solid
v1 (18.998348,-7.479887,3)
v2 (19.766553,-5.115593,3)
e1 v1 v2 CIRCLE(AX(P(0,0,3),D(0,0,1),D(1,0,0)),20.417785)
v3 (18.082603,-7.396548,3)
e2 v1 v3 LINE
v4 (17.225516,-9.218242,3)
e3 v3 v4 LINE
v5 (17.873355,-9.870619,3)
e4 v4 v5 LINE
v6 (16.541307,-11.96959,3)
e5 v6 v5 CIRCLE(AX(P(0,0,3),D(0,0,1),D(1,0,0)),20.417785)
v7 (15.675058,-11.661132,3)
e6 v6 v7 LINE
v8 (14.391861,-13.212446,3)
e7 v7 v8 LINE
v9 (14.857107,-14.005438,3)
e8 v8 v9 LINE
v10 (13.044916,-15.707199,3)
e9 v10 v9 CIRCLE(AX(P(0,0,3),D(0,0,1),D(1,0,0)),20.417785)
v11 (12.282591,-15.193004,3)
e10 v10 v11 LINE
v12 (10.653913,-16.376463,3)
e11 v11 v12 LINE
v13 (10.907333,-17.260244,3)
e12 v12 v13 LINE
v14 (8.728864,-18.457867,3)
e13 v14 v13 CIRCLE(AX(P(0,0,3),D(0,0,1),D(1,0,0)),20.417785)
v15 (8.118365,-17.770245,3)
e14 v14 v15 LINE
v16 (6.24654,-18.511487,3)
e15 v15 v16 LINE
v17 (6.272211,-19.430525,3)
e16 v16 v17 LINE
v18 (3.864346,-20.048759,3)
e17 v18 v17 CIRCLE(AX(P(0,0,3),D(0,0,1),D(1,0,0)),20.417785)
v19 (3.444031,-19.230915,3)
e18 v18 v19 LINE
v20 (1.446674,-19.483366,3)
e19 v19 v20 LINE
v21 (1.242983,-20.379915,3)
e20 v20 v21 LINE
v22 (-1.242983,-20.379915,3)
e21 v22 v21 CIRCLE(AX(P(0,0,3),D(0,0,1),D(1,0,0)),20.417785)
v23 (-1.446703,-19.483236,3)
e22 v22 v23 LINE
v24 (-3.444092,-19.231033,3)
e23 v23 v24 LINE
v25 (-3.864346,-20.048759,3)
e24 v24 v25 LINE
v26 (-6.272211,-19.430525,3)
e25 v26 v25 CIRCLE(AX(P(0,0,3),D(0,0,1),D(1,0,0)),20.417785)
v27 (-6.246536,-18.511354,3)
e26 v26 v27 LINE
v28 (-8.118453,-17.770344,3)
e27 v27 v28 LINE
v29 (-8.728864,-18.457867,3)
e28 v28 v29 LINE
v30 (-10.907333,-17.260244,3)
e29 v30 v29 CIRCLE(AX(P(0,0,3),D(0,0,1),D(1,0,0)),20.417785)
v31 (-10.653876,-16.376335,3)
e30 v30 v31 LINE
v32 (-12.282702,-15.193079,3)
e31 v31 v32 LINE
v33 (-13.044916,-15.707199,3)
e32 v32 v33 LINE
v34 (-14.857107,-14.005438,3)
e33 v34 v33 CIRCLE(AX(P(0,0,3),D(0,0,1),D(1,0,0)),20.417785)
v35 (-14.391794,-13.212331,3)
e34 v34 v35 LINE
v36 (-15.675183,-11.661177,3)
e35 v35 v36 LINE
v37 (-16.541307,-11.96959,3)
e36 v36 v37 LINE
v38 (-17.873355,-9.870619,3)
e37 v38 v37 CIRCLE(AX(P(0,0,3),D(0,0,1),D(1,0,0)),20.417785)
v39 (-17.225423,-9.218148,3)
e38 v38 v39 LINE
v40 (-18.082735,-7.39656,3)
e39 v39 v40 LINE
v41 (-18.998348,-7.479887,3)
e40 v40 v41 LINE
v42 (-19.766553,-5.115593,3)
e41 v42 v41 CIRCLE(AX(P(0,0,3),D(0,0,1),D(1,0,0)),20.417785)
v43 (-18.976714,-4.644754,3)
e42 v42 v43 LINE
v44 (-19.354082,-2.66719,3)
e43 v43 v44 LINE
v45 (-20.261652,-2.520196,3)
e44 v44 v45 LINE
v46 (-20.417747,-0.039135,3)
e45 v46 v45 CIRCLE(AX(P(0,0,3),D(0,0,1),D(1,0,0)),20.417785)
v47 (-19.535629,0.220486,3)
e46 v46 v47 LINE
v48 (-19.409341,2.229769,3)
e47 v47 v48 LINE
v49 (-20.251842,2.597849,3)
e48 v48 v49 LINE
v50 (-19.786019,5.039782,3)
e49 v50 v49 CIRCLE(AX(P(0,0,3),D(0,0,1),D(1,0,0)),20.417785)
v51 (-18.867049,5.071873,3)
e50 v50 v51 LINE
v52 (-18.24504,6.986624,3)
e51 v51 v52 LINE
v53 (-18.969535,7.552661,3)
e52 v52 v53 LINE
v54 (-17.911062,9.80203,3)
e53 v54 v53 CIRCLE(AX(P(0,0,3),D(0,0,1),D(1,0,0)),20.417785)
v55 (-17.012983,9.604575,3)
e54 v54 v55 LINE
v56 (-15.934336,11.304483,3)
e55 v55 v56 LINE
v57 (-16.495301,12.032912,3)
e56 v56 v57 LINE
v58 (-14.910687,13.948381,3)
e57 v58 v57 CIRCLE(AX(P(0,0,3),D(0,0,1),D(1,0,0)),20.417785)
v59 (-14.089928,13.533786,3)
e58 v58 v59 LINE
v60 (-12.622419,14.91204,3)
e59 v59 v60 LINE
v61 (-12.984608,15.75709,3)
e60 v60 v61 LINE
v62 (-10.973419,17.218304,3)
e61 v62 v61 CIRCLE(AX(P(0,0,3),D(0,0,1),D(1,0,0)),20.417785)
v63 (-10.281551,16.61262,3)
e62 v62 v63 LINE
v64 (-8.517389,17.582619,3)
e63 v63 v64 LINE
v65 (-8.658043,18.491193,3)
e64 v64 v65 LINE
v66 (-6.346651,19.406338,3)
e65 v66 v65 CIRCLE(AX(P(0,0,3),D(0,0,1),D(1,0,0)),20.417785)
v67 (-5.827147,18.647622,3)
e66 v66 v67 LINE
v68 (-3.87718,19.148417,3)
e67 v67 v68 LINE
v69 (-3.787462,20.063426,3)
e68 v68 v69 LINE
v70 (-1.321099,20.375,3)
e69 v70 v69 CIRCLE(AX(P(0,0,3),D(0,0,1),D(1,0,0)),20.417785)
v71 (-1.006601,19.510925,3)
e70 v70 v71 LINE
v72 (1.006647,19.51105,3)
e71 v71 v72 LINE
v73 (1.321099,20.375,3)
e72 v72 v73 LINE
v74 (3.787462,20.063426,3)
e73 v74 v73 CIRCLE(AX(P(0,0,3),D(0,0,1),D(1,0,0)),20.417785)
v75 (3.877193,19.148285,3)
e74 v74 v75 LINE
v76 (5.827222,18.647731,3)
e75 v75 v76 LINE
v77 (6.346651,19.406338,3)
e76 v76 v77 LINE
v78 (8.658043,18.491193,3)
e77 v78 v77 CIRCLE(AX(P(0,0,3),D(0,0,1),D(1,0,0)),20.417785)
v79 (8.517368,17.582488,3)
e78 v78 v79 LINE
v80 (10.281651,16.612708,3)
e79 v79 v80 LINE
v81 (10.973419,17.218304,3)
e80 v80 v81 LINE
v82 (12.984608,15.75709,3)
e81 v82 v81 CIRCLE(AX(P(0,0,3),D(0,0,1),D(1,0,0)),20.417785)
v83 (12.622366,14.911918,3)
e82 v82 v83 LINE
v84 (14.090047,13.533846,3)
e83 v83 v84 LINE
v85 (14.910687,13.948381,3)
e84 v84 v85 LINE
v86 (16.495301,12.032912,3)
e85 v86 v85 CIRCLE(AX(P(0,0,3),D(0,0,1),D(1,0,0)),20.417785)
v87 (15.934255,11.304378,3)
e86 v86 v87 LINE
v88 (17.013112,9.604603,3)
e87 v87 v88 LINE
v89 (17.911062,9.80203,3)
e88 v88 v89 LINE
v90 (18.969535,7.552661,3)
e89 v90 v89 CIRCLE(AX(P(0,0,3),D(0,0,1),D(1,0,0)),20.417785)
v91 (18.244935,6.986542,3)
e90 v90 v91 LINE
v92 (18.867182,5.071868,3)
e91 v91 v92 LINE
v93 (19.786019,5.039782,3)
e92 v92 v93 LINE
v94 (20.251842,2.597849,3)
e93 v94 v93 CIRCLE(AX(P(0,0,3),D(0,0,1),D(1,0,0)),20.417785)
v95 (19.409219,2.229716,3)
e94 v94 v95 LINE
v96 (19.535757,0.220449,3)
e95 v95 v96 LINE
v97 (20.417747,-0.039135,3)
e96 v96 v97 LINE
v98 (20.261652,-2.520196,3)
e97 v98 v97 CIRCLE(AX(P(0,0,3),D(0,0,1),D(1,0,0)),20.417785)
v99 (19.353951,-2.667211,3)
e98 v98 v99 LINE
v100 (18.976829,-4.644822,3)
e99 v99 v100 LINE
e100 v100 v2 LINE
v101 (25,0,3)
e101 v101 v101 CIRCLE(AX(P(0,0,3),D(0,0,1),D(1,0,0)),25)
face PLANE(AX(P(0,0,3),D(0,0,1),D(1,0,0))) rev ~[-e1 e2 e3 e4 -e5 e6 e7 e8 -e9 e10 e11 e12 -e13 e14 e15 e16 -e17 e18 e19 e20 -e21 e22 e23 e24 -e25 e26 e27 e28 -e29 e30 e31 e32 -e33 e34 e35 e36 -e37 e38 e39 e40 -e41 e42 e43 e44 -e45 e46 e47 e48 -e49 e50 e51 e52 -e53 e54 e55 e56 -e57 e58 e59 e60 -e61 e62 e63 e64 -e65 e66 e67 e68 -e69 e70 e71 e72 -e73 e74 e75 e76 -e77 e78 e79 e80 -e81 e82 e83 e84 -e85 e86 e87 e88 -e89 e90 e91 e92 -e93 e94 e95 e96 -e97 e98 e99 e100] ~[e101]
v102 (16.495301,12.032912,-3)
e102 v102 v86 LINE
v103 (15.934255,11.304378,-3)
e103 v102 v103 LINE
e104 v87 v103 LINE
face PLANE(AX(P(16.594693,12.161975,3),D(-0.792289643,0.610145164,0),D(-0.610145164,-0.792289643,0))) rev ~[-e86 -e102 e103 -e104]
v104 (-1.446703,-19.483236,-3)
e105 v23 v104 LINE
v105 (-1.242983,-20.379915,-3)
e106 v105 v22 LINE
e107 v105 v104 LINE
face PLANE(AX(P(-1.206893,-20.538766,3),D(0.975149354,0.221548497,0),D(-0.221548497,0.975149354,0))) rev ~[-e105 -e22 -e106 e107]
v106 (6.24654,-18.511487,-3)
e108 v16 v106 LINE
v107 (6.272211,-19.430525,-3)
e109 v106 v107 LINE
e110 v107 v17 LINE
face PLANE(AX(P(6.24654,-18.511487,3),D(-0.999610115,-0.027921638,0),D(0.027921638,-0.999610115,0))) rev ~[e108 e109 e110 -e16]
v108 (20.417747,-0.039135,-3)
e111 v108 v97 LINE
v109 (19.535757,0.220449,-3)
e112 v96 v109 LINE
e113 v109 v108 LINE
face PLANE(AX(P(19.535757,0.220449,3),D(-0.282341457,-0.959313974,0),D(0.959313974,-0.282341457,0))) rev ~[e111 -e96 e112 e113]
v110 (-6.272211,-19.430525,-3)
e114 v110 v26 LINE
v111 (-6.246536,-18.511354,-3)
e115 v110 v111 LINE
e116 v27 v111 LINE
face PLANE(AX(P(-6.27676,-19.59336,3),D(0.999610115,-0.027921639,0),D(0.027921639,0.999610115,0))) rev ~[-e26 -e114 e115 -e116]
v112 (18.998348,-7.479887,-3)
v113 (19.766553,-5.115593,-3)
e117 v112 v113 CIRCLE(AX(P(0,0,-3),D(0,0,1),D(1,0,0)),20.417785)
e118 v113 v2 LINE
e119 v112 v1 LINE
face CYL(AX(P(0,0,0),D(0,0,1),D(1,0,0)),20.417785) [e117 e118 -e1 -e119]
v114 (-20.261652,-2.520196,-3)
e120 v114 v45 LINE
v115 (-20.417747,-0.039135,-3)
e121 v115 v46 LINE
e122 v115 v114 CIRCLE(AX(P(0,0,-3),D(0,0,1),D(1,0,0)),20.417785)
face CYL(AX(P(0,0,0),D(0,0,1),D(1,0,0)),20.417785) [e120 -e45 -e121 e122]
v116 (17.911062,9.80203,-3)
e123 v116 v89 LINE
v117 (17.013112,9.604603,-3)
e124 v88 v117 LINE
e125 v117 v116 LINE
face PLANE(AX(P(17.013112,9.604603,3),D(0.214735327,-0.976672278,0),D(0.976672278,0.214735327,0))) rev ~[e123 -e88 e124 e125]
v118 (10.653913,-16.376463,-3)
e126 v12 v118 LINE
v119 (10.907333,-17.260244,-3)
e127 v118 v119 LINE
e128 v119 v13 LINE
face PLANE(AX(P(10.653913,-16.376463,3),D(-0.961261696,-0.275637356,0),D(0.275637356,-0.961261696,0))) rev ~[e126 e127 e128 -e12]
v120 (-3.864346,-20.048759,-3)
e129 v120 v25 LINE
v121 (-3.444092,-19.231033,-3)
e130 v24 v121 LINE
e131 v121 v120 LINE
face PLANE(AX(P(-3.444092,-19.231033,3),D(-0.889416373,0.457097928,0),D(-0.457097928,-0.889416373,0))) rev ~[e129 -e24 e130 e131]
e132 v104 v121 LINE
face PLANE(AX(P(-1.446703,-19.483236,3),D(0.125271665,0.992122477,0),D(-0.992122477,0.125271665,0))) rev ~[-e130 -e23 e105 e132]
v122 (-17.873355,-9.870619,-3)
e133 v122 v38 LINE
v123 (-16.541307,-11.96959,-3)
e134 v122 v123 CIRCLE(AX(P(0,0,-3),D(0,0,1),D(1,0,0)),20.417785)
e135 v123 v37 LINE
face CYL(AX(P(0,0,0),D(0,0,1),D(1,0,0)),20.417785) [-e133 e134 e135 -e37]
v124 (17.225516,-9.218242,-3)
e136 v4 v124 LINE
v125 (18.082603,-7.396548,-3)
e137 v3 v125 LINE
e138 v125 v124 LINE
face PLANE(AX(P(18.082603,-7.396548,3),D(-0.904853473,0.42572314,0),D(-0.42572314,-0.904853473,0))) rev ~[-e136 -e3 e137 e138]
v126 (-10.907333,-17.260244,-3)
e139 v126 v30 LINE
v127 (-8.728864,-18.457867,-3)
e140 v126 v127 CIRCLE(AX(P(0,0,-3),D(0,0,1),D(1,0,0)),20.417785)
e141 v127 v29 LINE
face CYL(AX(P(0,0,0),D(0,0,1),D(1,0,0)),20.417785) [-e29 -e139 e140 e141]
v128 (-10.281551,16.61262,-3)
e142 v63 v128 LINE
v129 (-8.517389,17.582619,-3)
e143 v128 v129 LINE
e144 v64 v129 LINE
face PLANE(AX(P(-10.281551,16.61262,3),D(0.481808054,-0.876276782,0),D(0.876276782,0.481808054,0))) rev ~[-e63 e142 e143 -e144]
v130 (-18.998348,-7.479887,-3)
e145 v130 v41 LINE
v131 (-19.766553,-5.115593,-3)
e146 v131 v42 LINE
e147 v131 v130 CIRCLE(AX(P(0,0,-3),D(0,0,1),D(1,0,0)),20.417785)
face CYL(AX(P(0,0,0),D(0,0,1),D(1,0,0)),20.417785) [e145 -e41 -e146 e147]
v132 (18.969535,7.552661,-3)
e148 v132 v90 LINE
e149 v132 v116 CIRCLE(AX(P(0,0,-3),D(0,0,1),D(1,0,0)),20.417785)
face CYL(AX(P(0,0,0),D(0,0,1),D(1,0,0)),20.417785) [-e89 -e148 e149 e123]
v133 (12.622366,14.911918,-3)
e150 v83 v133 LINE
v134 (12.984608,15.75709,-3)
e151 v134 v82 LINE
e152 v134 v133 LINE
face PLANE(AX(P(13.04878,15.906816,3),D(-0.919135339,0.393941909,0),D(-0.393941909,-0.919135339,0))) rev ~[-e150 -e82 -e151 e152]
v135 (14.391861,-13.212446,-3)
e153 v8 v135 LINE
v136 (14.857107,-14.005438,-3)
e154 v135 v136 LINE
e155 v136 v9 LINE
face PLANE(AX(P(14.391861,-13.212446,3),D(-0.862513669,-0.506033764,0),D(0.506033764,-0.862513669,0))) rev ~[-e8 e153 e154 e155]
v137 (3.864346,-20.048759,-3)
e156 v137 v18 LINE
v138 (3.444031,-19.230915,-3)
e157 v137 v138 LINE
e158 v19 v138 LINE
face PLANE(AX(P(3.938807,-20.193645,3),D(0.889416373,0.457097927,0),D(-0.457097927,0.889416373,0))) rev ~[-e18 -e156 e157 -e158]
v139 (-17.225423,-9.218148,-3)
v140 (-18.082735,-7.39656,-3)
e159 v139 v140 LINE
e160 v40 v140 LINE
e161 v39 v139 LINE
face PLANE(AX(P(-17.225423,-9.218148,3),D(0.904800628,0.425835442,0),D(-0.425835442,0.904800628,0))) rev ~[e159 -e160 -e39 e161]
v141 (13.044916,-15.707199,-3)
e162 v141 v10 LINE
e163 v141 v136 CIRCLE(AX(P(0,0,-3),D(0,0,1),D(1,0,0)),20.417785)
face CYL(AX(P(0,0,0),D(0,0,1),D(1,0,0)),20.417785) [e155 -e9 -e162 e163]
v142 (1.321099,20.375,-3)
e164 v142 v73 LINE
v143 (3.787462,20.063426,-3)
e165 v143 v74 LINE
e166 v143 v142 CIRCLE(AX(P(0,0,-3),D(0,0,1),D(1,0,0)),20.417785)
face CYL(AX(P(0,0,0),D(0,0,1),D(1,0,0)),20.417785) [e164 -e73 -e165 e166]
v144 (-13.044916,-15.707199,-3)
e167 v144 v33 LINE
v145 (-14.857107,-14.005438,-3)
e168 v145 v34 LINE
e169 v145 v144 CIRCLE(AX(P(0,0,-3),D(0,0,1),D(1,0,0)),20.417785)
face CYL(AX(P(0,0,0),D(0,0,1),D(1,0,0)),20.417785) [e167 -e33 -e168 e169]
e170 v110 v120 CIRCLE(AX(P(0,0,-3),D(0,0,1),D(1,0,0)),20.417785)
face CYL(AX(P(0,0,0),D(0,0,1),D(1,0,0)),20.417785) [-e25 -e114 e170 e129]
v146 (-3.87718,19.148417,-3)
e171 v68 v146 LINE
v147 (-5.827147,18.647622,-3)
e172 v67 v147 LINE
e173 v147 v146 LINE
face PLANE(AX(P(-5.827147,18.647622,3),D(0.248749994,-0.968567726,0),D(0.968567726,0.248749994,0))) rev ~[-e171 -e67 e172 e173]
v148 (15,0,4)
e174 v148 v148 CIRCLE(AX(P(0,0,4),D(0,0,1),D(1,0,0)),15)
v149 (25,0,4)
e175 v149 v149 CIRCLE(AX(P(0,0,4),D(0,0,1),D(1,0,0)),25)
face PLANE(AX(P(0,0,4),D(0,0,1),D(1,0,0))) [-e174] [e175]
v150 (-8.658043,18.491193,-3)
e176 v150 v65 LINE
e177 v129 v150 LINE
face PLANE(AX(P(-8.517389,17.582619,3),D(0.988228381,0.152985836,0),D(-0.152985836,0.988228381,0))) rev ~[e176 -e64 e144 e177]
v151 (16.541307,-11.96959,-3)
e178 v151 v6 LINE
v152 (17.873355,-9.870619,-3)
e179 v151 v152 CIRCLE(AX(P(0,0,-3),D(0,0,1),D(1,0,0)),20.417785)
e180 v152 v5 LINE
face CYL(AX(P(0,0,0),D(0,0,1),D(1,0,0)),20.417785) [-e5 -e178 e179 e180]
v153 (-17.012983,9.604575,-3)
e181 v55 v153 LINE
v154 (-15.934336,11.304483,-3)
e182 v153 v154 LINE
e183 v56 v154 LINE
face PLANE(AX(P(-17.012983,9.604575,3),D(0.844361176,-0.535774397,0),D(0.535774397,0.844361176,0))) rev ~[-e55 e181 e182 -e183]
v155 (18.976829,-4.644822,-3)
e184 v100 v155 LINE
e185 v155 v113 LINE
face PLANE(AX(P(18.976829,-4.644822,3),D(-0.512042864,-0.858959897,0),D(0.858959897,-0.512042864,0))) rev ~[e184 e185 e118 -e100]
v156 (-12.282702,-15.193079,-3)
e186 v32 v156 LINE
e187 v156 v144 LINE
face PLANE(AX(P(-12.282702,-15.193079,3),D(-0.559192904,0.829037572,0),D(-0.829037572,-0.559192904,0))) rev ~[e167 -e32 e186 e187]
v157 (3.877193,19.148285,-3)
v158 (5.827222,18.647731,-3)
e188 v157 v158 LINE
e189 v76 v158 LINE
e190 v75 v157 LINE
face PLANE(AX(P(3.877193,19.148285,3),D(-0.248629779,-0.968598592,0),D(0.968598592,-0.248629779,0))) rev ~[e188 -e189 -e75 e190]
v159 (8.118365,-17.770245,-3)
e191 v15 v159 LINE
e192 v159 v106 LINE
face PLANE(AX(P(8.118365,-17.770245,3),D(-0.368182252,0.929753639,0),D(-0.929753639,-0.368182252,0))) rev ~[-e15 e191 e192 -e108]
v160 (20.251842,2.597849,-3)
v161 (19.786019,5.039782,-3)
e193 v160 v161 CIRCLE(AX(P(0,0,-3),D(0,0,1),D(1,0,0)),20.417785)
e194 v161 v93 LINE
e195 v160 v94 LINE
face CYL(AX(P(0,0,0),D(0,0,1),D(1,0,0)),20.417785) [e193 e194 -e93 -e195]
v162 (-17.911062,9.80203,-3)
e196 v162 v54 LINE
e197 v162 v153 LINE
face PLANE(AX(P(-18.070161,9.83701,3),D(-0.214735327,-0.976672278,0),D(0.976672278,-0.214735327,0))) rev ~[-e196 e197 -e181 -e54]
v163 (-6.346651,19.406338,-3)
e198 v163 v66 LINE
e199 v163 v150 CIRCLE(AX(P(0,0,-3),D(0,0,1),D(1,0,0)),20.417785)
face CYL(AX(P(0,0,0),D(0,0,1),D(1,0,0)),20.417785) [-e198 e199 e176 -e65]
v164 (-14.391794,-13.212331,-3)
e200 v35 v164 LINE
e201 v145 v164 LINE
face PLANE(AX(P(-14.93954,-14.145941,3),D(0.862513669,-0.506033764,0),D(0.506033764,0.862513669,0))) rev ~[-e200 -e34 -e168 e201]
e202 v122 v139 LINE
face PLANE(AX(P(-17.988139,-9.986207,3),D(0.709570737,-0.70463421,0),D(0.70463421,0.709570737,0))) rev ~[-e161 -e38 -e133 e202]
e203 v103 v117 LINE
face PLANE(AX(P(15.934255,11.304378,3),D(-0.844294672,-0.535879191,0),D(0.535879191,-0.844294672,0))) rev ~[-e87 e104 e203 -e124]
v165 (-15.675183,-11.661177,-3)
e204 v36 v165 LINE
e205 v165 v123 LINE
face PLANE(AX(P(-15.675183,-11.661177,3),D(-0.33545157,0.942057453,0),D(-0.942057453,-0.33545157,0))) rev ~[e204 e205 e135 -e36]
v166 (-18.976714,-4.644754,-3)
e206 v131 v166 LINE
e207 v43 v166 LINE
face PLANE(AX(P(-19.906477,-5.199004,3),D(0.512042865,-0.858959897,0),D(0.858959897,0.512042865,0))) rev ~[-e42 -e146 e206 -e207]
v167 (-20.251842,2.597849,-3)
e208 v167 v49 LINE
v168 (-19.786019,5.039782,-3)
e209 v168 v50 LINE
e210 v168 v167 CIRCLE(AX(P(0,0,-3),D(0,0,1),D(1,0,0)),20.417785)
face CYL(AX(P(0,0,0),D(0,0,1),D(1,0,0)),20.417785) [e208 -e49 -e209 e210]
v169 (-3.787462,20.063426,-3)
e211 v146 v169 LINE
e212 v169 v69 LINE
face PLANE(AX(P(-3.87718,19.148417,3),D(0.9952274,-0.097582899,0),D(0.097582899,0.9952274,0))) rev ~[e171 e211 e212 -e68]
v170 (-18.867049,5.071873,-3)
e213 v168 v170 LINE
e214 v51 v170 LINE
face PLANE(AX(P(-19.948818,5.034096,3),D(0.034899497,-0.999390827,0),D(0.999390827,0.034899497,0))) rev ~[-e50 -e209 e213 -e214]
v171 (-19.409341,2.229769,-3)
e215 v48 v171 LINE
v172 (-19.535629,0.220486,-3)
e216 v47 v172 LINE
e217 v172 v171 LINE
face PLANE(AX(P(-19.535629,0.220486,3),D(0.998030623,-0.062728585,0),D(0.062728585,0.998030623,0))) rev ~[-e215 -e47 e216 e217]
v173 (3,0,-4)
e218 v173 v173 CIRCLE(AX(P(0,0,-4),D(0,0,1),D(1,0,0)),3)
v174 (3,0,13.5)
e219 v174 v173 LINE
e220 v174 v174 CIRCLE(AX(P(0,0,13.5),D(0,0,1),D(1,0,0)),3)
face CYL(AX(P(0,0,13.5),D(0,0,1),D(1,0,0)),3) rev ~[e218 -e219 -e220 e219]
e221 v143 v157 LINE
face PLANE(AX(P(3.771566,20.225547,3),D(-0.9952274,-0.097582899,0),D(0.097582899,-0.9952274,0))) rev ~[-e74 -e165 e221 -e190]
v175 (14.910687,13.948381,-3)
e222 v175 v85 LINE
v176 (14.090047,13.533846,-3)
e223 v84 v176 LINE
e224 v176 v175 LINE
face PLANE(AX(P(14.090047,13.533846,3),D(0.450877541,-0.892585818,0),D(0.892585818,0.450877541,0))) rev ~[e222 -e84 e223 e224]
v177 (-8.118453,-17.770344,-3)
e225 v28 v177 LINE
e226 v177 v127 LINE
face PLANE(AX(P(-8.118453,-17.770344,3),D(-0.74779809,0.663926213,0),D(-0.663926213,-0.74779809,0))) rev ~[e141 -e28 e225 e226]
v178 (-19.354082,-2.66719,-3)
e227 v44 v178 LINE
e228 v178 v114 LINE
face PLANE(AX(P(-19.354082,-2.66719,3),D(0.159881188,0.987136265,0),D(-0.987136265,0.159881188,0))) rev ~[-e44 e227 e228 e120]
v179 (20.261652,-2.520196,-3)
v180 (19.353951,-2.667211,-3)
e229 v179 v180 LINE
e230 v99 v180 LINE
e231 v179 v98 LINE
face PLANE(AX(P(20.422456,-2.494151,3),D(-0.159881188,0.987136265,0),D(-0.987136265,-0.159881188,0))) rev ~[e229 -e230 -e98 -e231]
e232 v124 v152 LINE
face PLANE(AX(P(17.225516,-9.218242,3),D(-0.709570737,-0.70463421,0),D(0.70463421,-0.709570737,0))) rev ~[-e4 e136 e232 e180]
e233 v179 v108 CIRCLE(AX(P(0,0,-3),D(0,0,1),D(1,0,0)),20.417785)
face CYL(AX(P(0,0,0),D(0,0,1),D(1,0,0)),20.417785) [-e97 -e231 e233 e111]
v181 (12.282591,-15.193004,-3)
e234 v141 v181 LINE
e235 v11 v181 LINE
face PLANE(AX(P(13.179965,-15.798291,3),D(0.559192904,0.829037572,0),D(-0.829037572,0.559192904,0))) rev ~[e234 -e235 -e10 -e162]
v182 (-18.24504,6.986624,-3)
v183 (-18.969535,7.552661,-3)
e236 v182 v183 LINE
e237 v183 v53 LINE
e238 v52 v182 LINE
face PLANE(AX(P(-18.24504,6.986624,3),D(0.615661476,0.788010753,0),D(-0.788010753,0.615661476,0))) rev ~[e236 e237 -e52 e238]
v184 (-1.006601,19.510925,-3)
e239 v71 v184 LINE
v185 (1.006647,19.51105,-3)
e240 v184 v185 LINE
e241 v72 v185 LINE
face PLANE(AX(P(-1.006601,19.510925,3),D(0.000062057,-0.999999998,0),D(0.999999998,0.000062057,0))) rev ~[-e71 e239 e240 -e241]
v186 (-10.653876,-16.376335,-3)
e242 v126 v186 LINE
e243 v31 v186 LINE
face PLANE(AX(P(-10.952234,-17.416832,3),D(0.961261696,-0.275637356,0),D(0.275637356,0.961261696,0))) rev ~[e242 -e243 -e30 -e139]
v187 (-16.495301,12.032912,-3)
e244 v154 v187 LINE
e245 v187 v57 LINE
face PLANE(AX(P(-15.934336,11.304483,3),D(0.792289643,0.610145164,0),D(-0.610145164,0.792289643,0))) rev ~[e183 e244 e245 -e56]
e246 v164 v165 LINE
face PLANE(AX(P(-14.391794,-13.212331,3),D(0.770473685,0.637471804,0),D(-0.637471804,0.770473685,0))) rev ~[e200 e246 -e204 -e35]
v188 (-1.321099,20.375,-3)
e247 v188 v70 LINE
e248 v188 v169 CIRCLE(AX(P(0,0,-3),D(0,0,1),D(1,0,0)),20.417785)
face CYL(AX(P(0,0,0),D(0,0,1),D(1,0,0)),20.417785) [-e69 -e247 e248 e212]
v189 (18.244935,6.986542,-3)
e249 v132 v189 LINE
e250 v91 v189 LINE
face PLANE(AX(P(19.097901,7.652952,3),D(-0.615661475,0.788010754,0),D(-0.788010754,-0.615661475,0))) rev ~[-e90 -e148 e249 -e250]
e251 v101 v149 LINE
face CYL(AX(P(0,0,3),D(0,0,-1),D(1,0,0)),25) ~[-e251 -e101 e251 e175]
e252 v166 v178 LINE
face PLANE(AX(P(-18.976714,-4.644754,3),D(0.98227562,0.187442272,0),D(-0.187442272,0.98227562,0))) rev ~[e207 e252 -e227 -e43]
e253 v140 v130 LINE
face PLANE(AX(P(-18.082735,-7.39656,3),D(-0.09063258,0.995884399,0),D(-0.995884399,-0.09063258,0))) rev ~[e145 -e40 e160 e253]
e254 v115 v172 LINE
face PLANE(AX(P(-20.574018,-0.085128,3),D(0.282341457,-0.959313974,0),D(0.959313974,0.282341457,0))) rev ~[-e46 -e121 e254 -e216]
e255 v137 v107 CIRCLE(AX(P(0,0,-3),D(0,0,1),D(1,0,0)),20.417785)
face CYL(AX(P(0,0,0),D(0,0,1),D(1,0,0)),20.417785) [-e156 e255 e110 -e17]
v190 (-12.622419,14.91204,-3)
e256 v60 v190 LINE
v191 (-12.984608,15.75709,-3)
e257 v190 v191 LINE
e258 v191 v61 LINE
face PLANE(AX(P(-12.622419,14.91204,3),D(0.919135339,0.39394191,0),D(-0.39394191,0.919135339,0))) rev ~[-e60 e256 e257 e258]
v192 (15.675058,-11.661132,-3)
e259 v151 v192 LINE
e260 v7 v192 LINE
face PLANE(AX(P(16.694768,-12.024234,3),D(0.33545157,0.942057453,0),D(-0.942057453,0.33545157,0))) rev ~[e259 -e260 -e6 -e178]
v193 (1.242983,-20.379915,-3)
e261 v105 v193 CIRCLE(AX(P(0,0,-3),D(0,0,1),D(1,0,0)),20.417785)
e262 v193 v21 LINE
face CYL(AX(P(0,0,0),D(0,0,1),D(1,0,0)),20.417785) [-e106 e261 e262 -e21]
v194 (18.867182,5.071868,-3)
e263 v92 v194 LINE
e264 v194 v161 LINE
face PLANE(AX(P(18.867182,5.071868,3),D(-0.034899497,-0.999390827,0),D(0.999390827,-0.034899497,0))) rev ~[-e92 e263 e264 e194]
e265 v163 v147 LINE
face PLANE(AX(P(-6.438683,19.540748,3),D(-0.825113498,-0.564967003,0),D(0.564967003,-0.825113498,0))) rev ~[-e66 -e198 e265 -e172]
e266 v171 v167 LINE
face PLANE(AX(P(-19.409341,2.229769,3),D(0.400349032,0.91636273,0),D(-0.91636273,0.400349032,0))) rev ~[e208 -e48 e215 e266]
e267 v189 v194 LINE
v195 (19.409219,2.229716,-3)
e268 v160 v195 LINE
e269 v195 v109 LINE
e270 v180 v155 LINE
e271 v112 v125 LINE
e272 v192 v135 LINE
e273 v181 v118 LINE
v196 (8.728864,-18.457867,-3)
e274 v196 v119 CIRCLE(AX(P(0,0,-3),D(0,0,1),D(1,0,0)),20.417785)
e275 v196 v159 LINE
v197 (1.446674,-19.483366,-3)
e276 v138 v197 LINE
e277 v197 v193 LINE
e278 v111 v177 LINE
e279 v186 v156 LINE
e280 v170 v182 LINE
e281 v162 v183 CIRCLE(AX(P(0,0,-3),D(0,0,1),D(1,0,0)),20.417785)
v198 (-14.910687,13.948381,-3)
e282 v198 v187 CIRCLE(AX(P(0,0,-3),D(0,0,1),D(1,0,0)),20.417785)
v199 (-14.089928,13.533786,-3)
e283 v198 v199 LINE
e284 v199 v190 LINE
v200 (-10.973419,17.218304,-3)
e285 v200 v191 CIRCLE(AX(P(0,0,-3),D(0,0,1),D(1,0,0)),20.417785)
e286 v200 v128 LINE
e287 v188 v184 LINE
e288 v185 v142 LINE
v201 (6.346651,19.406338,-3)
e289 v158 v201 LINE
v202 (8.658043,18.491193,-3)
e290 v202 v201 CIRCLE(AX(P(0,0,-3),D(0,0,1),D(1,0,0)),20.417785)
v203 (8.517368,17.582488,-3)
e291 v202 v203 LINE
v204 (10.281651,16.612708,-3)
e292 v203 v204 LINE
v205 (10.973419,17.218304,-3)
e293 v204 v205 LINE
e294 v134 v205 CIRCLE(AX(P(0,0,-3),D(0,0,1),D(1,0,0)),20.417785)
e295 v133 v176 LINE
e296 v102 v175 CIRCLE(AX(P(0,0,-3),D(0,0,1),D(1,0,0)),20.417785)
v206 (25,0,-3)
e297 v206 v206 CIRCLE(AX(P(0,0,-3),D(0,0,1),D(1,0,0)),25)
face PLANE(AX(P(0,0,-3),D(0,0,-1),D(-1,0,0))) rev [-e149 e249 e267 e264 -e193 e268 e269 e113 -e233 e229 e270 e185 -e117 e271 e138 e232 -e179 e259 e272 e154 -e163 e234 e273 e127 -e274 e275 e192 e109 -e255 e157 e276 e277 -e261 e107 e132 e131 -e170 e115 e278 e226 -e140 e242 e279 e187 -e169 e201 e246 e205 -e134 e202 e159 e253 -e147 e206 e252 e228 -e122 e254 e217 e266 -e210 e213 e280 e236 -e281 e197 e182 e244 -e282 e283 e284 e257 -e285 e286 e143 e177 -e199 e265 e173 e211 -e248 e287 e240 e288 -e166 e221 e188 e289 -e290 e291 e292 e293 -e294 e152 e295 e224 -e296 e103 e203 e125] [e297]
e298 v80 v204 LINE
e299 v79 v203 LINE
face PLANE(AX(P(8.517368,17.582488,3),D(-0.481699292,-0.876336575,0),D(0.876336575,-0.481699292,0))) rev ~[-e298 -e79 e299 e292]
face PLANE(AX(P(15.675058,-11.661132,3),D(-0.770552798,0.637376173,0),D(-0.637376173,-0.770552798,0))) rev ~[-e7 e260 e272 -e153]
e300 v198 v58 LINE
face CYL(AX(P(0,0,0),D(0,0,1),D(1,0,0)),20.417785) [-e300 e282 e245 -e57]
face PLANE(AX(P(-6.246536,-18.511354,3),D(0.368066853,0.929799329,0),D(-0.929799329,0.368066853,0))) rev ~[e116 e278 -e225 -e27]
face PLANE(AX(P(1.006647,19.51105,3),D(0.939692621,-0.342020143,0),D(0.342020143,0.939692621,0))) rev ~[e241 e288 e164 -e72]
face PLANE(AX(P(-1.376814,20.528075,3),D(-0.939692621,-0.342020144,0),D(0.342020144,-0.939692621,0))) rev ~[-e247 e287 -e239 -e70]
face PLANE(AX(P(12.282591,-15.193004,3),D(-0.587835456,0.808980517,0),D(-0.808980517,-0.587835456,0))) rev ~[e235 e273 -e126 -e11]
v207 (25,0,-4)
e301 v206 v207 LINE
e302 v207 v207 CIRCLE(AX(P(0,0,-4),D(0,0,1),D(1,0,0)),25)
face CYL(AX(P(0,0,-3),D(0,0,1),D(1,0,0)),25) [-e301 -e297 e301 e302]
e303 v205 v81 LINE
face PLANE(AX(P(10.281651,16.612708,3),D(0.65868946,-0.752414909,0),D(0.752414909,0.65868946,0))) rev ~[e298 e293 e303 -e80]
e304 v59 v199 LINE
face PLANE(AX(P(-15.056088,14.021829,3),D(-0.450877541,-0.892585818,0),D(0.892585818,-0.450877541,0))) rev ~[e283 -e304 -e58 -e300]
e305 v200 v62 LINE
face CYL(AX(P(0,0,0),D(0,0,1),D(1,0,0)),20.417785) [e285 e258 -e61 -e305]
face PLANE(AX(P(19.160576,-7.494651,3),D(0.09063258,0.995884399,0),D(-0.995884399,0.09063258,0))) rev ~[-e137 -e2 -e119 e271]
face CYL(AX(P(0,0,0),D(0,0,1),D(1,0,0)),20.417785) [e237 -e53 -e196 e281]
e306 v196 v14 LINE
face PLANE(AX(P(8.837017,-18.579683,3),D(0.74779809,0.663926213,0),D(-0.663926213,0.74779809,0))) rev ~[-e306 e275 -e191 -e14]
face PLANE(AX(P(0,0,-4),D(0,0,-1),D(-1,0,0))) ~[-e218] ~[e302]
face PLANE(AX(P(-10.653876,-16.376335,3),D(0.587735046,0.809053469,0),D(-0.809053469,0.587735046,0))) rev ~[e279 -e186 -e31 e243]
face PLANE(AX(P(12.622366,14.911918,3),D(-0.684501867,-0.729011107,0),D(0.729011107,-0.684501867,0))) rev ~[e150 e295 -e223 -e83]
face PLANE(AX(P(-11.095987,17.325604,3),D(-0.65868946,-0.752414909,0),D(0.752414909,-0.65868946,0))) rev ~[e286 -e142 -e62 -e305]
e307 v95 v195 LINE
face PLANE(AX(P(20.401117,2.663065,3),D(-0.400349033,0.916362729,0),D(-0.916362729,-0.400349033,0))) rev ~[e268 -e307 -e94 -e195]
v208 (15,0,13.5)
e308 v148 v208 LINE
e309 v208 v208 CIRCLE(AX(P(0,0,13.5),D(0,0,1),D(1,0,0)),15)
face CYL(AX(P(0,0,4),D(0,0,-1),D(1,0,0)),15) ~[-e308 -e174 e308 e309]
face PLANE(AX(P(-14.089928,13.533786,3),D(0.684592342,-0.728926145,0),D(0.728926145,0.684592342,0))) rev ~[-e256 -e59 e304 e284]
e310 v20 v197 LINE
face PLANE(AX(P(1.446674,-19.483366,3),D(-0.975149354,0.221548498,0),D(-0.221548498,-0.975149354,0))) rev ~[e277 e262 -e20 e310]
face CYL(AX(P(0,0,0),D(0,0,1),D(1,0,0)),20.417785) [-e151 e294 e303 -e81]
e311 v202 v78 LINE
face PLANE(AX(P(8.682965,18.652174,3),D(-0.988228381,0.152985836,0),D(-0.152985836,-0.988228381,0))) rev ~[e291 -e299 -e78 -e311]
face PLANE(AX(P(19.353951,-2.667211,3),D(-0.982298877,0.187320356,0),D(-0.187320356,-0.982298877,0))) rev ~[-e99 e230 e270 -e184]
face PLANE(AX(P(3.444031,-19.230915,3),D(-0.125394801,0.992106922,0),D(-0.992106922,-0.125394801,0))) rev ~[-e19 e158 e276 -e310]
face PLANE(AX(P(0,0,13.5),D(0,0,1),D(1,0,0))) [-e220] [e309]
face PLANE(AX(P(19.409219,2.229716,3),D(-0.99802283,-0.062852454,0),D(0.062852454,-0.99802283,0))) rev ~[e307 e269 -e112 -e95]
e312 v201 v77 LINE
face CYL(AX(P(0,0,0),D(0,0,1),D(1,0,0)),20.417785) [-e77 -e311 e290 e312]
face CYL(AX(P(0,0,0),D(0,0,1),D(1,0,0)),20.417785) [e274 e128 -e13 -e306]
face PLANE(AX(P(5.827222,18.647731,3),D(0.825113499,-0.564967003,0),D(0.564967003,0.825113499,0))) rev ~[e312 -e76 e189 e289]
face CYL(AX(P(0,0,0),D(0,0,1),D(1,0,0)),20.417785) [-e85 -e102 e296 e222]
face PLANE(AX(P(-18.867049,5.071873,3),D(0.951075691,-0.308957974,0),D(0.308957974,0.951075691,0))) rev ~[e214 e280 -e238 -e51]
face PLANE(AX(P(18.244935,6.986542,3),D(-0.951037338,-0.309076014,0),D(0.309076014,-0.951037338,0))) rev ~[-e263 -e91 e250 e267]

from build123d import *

# Parameters (mm, degrees)
SKETCH2_R           = 20.417784581
BOSS_EXTRUDE1_DEPTH = 3
CUT_EXTRUDE3_DEPTH  = 6
SKETCH5_R           = 25
BOSS_EXTRUDE2_DEPTH = 1
SKETCH6_R           = 15
BOSS_EXTRUDE3_DEPTH = 9.5
SKETCH8_R           = 3
CUT_EXTRUDE4_DEPTH  = 40.449334595


with BuildPart() as part:
    # Sketch2 → Boss-Extrude1 (new, symmetric)
    with BuildSketch(Plane.XY):
        Circle(SKETCH2_R)
    extrude(amount=BOSS_EXTRUDE1_DEPTH, both=True)

    # Sketch4 → Cut-Extrude3 (cut)
    with BuildSketch(Plane.XY.offset(3)):
        Polygon((1.006646689, 19.511049769), (1.376859102, 20.528200014), (-1.376813629, 20.528075077), (-1.006601216, 19.510924833), align=None)
        Polygon((5.827221798, 18.647731411), (6.438758286, 19.540857927), (3.771566178, 20.225547476), (3.877192707, 19.148284794), align=None)
        Polygon((10.28165113, 16.612707507), (11.096086608, 17.32569187), (8.682964611, 18.652174343), (8.517368354, 17.582487599), align=None)
        Polygon((14.090046509, 13.533846092), (15.056206999, 14.021888874), (13.048780443, 15.906816498), (12.622366422, 14.911918045), align=None)
        Polygon((17.013112445, 9.604603354), (18.070290531, 9.837039031), (16.59469341, 12.161974871), (15.934254785, 11.304377837), align=None)
        Polygon((18.867181957, 5.071868063), (19.948951252, 5.034091847), (19.09790076, 7.652951634), (18.244935319, 6.986541995), align=None)
        Polygon((19.535757038, 0.22044865), (20.574145998, -0.085165841), (20.401116767, 2.663065301), (19.409219466, 2.229716025), align=None)
        Polygon((18.976828657, -4.644822364), (19.906591485, -5.199072246), (20.422455578, -2.49415122), (19.353950973, -2.667211203), align=None)
        Polygon((17.225516339, -9.218242105), (17.988232618, -9.986301822), (19.160576396, -7.494651046), (18.08260256, -7.396547742), align=None)
        Polygon((14.391861479, -13.212445793), (14.939606939, -14.146055326), (16.694767732, -12.024234384), (15.675057726, -11.661131984), align=None)
        Polygon((10.653913032, -16.37646292), (10.952270812, -17.416960149), (13.179965412, -15.798290853), (12.282591366, -15.193004416), align=None)
        Polygon((6.246540048, -18.511486653), (6.27676323, -19.593493311), (8.837017393, -18.579682606), (8.118364618, -17.770244505), align=None)
        Polygon((1.446673978, -19.483365599), (1.20686353, -20.538895228), (3.93880707, -20.19364457), (3.444031164, -19.230914778), align=None)
        Polygon((-3.444091937, -19.23103303), (-3.938867844, -20.193762822), (-1.206892986, -20.538765578), (-1.446703434, -19.483235948), align=None)
        Polygon((-8.11845289, -17.770343928), (-8.837105665, -18.579782029), (-6.276759518, -19.593360409), (-6.246536335, -18.51135375), align=None)
        Polygon((-12.28270159, -15.193078763), (-13.180075636, -15.7983652), (-10.952234165, -17.416832345), (-10.653876385, -16.376335116), align=None)
        Polygon((-15.675182977, -11.661176583), (-16.694892983, -12.024278984), (-14.939539659, -14.145940651), (-14.391794199, -13.212331118), align=None)
        Polygon((-18.082734968, -7.396559792), (-19.160708804, -7.494663096), (-17.988138933, -9.986207481), (-17.225422655, -9.218147765), align=None)
        Polygon((-19.354082217, -2.667189946), (-20.422586822, -2.494129963), (-19.906477283, -5.199004168), (-18.976714454, -4.644754285), align=None)
        Polygon((-19.409341301, 2.229769254), (-20.401238602, 2.663118529), (-20.574018453, -0.085128303), (-19.535629493, 0.220486188), align=None)
        Polygon((-18.245040089, 6.98662385), (-19.098005529, 7.653033489), (-19.948818379, 5.034096487), (-18.867049084, 5.071872703), align=None)
        Polygon((-15.934335907, 11.304483176), (-16.594774532, 12.162080209), (-18.070160678, 9.837010481), (-17.012982592, 9.604574804), align=None)
        Polygon((-12.622418798, 14.912040248), (-13.04883282, 15.906938701), (-15.056088326, 14.021828928), (-14.089927835, 13.533786146), align=None)
        Polygon((-8.517388694, 17.582618989), (-8.682984951, 18.652305732), (-11.095986571, 17.325604294), (-10.281551093, 16.612619931), align=None)
        Polygon((-3.877179733, 19.148417114), (-3.771553204, 20.225679796), (-6.438683171, 19.540748224), (-5.827146683, 18.647621709), align=None)
    extrude(amount=-CUT_EXTRUDE3_DEPTH, mode=Mode.SUBTRACT)

    # Sketch5 → Boss-Extrude2 (add)
    with BuildSketch(Plane.XY.offset(3)):
        Circle(SKETCH5_R)
    boss_extrude2 = extrude(amount=BOSS_EXTRUDE2_DEPTH)

    # Mirror2: Boss-Extrude2 across plane
    add(boss_extrude2.mirror(Plane.XY))

    # Sketch6 → Boss-Extrude3 (add)
    with BuildSketch(Plane.XY.offset(4)):
        Circle(SKETCH6_R)
    extrude(amount=BOSS_EXTRUDE3_DEPTH)

    # Sketch8 → Cut-Extrude4 (cut, through all)
    with BuildSketch(Plane.XY.offset(13.5)):
        Circle(SKETCH8_R)
    extrude(amount=-CUT_EXTRUDE4_DEPTH, mode=Mode.SUBTRACT)


solid = part.part
